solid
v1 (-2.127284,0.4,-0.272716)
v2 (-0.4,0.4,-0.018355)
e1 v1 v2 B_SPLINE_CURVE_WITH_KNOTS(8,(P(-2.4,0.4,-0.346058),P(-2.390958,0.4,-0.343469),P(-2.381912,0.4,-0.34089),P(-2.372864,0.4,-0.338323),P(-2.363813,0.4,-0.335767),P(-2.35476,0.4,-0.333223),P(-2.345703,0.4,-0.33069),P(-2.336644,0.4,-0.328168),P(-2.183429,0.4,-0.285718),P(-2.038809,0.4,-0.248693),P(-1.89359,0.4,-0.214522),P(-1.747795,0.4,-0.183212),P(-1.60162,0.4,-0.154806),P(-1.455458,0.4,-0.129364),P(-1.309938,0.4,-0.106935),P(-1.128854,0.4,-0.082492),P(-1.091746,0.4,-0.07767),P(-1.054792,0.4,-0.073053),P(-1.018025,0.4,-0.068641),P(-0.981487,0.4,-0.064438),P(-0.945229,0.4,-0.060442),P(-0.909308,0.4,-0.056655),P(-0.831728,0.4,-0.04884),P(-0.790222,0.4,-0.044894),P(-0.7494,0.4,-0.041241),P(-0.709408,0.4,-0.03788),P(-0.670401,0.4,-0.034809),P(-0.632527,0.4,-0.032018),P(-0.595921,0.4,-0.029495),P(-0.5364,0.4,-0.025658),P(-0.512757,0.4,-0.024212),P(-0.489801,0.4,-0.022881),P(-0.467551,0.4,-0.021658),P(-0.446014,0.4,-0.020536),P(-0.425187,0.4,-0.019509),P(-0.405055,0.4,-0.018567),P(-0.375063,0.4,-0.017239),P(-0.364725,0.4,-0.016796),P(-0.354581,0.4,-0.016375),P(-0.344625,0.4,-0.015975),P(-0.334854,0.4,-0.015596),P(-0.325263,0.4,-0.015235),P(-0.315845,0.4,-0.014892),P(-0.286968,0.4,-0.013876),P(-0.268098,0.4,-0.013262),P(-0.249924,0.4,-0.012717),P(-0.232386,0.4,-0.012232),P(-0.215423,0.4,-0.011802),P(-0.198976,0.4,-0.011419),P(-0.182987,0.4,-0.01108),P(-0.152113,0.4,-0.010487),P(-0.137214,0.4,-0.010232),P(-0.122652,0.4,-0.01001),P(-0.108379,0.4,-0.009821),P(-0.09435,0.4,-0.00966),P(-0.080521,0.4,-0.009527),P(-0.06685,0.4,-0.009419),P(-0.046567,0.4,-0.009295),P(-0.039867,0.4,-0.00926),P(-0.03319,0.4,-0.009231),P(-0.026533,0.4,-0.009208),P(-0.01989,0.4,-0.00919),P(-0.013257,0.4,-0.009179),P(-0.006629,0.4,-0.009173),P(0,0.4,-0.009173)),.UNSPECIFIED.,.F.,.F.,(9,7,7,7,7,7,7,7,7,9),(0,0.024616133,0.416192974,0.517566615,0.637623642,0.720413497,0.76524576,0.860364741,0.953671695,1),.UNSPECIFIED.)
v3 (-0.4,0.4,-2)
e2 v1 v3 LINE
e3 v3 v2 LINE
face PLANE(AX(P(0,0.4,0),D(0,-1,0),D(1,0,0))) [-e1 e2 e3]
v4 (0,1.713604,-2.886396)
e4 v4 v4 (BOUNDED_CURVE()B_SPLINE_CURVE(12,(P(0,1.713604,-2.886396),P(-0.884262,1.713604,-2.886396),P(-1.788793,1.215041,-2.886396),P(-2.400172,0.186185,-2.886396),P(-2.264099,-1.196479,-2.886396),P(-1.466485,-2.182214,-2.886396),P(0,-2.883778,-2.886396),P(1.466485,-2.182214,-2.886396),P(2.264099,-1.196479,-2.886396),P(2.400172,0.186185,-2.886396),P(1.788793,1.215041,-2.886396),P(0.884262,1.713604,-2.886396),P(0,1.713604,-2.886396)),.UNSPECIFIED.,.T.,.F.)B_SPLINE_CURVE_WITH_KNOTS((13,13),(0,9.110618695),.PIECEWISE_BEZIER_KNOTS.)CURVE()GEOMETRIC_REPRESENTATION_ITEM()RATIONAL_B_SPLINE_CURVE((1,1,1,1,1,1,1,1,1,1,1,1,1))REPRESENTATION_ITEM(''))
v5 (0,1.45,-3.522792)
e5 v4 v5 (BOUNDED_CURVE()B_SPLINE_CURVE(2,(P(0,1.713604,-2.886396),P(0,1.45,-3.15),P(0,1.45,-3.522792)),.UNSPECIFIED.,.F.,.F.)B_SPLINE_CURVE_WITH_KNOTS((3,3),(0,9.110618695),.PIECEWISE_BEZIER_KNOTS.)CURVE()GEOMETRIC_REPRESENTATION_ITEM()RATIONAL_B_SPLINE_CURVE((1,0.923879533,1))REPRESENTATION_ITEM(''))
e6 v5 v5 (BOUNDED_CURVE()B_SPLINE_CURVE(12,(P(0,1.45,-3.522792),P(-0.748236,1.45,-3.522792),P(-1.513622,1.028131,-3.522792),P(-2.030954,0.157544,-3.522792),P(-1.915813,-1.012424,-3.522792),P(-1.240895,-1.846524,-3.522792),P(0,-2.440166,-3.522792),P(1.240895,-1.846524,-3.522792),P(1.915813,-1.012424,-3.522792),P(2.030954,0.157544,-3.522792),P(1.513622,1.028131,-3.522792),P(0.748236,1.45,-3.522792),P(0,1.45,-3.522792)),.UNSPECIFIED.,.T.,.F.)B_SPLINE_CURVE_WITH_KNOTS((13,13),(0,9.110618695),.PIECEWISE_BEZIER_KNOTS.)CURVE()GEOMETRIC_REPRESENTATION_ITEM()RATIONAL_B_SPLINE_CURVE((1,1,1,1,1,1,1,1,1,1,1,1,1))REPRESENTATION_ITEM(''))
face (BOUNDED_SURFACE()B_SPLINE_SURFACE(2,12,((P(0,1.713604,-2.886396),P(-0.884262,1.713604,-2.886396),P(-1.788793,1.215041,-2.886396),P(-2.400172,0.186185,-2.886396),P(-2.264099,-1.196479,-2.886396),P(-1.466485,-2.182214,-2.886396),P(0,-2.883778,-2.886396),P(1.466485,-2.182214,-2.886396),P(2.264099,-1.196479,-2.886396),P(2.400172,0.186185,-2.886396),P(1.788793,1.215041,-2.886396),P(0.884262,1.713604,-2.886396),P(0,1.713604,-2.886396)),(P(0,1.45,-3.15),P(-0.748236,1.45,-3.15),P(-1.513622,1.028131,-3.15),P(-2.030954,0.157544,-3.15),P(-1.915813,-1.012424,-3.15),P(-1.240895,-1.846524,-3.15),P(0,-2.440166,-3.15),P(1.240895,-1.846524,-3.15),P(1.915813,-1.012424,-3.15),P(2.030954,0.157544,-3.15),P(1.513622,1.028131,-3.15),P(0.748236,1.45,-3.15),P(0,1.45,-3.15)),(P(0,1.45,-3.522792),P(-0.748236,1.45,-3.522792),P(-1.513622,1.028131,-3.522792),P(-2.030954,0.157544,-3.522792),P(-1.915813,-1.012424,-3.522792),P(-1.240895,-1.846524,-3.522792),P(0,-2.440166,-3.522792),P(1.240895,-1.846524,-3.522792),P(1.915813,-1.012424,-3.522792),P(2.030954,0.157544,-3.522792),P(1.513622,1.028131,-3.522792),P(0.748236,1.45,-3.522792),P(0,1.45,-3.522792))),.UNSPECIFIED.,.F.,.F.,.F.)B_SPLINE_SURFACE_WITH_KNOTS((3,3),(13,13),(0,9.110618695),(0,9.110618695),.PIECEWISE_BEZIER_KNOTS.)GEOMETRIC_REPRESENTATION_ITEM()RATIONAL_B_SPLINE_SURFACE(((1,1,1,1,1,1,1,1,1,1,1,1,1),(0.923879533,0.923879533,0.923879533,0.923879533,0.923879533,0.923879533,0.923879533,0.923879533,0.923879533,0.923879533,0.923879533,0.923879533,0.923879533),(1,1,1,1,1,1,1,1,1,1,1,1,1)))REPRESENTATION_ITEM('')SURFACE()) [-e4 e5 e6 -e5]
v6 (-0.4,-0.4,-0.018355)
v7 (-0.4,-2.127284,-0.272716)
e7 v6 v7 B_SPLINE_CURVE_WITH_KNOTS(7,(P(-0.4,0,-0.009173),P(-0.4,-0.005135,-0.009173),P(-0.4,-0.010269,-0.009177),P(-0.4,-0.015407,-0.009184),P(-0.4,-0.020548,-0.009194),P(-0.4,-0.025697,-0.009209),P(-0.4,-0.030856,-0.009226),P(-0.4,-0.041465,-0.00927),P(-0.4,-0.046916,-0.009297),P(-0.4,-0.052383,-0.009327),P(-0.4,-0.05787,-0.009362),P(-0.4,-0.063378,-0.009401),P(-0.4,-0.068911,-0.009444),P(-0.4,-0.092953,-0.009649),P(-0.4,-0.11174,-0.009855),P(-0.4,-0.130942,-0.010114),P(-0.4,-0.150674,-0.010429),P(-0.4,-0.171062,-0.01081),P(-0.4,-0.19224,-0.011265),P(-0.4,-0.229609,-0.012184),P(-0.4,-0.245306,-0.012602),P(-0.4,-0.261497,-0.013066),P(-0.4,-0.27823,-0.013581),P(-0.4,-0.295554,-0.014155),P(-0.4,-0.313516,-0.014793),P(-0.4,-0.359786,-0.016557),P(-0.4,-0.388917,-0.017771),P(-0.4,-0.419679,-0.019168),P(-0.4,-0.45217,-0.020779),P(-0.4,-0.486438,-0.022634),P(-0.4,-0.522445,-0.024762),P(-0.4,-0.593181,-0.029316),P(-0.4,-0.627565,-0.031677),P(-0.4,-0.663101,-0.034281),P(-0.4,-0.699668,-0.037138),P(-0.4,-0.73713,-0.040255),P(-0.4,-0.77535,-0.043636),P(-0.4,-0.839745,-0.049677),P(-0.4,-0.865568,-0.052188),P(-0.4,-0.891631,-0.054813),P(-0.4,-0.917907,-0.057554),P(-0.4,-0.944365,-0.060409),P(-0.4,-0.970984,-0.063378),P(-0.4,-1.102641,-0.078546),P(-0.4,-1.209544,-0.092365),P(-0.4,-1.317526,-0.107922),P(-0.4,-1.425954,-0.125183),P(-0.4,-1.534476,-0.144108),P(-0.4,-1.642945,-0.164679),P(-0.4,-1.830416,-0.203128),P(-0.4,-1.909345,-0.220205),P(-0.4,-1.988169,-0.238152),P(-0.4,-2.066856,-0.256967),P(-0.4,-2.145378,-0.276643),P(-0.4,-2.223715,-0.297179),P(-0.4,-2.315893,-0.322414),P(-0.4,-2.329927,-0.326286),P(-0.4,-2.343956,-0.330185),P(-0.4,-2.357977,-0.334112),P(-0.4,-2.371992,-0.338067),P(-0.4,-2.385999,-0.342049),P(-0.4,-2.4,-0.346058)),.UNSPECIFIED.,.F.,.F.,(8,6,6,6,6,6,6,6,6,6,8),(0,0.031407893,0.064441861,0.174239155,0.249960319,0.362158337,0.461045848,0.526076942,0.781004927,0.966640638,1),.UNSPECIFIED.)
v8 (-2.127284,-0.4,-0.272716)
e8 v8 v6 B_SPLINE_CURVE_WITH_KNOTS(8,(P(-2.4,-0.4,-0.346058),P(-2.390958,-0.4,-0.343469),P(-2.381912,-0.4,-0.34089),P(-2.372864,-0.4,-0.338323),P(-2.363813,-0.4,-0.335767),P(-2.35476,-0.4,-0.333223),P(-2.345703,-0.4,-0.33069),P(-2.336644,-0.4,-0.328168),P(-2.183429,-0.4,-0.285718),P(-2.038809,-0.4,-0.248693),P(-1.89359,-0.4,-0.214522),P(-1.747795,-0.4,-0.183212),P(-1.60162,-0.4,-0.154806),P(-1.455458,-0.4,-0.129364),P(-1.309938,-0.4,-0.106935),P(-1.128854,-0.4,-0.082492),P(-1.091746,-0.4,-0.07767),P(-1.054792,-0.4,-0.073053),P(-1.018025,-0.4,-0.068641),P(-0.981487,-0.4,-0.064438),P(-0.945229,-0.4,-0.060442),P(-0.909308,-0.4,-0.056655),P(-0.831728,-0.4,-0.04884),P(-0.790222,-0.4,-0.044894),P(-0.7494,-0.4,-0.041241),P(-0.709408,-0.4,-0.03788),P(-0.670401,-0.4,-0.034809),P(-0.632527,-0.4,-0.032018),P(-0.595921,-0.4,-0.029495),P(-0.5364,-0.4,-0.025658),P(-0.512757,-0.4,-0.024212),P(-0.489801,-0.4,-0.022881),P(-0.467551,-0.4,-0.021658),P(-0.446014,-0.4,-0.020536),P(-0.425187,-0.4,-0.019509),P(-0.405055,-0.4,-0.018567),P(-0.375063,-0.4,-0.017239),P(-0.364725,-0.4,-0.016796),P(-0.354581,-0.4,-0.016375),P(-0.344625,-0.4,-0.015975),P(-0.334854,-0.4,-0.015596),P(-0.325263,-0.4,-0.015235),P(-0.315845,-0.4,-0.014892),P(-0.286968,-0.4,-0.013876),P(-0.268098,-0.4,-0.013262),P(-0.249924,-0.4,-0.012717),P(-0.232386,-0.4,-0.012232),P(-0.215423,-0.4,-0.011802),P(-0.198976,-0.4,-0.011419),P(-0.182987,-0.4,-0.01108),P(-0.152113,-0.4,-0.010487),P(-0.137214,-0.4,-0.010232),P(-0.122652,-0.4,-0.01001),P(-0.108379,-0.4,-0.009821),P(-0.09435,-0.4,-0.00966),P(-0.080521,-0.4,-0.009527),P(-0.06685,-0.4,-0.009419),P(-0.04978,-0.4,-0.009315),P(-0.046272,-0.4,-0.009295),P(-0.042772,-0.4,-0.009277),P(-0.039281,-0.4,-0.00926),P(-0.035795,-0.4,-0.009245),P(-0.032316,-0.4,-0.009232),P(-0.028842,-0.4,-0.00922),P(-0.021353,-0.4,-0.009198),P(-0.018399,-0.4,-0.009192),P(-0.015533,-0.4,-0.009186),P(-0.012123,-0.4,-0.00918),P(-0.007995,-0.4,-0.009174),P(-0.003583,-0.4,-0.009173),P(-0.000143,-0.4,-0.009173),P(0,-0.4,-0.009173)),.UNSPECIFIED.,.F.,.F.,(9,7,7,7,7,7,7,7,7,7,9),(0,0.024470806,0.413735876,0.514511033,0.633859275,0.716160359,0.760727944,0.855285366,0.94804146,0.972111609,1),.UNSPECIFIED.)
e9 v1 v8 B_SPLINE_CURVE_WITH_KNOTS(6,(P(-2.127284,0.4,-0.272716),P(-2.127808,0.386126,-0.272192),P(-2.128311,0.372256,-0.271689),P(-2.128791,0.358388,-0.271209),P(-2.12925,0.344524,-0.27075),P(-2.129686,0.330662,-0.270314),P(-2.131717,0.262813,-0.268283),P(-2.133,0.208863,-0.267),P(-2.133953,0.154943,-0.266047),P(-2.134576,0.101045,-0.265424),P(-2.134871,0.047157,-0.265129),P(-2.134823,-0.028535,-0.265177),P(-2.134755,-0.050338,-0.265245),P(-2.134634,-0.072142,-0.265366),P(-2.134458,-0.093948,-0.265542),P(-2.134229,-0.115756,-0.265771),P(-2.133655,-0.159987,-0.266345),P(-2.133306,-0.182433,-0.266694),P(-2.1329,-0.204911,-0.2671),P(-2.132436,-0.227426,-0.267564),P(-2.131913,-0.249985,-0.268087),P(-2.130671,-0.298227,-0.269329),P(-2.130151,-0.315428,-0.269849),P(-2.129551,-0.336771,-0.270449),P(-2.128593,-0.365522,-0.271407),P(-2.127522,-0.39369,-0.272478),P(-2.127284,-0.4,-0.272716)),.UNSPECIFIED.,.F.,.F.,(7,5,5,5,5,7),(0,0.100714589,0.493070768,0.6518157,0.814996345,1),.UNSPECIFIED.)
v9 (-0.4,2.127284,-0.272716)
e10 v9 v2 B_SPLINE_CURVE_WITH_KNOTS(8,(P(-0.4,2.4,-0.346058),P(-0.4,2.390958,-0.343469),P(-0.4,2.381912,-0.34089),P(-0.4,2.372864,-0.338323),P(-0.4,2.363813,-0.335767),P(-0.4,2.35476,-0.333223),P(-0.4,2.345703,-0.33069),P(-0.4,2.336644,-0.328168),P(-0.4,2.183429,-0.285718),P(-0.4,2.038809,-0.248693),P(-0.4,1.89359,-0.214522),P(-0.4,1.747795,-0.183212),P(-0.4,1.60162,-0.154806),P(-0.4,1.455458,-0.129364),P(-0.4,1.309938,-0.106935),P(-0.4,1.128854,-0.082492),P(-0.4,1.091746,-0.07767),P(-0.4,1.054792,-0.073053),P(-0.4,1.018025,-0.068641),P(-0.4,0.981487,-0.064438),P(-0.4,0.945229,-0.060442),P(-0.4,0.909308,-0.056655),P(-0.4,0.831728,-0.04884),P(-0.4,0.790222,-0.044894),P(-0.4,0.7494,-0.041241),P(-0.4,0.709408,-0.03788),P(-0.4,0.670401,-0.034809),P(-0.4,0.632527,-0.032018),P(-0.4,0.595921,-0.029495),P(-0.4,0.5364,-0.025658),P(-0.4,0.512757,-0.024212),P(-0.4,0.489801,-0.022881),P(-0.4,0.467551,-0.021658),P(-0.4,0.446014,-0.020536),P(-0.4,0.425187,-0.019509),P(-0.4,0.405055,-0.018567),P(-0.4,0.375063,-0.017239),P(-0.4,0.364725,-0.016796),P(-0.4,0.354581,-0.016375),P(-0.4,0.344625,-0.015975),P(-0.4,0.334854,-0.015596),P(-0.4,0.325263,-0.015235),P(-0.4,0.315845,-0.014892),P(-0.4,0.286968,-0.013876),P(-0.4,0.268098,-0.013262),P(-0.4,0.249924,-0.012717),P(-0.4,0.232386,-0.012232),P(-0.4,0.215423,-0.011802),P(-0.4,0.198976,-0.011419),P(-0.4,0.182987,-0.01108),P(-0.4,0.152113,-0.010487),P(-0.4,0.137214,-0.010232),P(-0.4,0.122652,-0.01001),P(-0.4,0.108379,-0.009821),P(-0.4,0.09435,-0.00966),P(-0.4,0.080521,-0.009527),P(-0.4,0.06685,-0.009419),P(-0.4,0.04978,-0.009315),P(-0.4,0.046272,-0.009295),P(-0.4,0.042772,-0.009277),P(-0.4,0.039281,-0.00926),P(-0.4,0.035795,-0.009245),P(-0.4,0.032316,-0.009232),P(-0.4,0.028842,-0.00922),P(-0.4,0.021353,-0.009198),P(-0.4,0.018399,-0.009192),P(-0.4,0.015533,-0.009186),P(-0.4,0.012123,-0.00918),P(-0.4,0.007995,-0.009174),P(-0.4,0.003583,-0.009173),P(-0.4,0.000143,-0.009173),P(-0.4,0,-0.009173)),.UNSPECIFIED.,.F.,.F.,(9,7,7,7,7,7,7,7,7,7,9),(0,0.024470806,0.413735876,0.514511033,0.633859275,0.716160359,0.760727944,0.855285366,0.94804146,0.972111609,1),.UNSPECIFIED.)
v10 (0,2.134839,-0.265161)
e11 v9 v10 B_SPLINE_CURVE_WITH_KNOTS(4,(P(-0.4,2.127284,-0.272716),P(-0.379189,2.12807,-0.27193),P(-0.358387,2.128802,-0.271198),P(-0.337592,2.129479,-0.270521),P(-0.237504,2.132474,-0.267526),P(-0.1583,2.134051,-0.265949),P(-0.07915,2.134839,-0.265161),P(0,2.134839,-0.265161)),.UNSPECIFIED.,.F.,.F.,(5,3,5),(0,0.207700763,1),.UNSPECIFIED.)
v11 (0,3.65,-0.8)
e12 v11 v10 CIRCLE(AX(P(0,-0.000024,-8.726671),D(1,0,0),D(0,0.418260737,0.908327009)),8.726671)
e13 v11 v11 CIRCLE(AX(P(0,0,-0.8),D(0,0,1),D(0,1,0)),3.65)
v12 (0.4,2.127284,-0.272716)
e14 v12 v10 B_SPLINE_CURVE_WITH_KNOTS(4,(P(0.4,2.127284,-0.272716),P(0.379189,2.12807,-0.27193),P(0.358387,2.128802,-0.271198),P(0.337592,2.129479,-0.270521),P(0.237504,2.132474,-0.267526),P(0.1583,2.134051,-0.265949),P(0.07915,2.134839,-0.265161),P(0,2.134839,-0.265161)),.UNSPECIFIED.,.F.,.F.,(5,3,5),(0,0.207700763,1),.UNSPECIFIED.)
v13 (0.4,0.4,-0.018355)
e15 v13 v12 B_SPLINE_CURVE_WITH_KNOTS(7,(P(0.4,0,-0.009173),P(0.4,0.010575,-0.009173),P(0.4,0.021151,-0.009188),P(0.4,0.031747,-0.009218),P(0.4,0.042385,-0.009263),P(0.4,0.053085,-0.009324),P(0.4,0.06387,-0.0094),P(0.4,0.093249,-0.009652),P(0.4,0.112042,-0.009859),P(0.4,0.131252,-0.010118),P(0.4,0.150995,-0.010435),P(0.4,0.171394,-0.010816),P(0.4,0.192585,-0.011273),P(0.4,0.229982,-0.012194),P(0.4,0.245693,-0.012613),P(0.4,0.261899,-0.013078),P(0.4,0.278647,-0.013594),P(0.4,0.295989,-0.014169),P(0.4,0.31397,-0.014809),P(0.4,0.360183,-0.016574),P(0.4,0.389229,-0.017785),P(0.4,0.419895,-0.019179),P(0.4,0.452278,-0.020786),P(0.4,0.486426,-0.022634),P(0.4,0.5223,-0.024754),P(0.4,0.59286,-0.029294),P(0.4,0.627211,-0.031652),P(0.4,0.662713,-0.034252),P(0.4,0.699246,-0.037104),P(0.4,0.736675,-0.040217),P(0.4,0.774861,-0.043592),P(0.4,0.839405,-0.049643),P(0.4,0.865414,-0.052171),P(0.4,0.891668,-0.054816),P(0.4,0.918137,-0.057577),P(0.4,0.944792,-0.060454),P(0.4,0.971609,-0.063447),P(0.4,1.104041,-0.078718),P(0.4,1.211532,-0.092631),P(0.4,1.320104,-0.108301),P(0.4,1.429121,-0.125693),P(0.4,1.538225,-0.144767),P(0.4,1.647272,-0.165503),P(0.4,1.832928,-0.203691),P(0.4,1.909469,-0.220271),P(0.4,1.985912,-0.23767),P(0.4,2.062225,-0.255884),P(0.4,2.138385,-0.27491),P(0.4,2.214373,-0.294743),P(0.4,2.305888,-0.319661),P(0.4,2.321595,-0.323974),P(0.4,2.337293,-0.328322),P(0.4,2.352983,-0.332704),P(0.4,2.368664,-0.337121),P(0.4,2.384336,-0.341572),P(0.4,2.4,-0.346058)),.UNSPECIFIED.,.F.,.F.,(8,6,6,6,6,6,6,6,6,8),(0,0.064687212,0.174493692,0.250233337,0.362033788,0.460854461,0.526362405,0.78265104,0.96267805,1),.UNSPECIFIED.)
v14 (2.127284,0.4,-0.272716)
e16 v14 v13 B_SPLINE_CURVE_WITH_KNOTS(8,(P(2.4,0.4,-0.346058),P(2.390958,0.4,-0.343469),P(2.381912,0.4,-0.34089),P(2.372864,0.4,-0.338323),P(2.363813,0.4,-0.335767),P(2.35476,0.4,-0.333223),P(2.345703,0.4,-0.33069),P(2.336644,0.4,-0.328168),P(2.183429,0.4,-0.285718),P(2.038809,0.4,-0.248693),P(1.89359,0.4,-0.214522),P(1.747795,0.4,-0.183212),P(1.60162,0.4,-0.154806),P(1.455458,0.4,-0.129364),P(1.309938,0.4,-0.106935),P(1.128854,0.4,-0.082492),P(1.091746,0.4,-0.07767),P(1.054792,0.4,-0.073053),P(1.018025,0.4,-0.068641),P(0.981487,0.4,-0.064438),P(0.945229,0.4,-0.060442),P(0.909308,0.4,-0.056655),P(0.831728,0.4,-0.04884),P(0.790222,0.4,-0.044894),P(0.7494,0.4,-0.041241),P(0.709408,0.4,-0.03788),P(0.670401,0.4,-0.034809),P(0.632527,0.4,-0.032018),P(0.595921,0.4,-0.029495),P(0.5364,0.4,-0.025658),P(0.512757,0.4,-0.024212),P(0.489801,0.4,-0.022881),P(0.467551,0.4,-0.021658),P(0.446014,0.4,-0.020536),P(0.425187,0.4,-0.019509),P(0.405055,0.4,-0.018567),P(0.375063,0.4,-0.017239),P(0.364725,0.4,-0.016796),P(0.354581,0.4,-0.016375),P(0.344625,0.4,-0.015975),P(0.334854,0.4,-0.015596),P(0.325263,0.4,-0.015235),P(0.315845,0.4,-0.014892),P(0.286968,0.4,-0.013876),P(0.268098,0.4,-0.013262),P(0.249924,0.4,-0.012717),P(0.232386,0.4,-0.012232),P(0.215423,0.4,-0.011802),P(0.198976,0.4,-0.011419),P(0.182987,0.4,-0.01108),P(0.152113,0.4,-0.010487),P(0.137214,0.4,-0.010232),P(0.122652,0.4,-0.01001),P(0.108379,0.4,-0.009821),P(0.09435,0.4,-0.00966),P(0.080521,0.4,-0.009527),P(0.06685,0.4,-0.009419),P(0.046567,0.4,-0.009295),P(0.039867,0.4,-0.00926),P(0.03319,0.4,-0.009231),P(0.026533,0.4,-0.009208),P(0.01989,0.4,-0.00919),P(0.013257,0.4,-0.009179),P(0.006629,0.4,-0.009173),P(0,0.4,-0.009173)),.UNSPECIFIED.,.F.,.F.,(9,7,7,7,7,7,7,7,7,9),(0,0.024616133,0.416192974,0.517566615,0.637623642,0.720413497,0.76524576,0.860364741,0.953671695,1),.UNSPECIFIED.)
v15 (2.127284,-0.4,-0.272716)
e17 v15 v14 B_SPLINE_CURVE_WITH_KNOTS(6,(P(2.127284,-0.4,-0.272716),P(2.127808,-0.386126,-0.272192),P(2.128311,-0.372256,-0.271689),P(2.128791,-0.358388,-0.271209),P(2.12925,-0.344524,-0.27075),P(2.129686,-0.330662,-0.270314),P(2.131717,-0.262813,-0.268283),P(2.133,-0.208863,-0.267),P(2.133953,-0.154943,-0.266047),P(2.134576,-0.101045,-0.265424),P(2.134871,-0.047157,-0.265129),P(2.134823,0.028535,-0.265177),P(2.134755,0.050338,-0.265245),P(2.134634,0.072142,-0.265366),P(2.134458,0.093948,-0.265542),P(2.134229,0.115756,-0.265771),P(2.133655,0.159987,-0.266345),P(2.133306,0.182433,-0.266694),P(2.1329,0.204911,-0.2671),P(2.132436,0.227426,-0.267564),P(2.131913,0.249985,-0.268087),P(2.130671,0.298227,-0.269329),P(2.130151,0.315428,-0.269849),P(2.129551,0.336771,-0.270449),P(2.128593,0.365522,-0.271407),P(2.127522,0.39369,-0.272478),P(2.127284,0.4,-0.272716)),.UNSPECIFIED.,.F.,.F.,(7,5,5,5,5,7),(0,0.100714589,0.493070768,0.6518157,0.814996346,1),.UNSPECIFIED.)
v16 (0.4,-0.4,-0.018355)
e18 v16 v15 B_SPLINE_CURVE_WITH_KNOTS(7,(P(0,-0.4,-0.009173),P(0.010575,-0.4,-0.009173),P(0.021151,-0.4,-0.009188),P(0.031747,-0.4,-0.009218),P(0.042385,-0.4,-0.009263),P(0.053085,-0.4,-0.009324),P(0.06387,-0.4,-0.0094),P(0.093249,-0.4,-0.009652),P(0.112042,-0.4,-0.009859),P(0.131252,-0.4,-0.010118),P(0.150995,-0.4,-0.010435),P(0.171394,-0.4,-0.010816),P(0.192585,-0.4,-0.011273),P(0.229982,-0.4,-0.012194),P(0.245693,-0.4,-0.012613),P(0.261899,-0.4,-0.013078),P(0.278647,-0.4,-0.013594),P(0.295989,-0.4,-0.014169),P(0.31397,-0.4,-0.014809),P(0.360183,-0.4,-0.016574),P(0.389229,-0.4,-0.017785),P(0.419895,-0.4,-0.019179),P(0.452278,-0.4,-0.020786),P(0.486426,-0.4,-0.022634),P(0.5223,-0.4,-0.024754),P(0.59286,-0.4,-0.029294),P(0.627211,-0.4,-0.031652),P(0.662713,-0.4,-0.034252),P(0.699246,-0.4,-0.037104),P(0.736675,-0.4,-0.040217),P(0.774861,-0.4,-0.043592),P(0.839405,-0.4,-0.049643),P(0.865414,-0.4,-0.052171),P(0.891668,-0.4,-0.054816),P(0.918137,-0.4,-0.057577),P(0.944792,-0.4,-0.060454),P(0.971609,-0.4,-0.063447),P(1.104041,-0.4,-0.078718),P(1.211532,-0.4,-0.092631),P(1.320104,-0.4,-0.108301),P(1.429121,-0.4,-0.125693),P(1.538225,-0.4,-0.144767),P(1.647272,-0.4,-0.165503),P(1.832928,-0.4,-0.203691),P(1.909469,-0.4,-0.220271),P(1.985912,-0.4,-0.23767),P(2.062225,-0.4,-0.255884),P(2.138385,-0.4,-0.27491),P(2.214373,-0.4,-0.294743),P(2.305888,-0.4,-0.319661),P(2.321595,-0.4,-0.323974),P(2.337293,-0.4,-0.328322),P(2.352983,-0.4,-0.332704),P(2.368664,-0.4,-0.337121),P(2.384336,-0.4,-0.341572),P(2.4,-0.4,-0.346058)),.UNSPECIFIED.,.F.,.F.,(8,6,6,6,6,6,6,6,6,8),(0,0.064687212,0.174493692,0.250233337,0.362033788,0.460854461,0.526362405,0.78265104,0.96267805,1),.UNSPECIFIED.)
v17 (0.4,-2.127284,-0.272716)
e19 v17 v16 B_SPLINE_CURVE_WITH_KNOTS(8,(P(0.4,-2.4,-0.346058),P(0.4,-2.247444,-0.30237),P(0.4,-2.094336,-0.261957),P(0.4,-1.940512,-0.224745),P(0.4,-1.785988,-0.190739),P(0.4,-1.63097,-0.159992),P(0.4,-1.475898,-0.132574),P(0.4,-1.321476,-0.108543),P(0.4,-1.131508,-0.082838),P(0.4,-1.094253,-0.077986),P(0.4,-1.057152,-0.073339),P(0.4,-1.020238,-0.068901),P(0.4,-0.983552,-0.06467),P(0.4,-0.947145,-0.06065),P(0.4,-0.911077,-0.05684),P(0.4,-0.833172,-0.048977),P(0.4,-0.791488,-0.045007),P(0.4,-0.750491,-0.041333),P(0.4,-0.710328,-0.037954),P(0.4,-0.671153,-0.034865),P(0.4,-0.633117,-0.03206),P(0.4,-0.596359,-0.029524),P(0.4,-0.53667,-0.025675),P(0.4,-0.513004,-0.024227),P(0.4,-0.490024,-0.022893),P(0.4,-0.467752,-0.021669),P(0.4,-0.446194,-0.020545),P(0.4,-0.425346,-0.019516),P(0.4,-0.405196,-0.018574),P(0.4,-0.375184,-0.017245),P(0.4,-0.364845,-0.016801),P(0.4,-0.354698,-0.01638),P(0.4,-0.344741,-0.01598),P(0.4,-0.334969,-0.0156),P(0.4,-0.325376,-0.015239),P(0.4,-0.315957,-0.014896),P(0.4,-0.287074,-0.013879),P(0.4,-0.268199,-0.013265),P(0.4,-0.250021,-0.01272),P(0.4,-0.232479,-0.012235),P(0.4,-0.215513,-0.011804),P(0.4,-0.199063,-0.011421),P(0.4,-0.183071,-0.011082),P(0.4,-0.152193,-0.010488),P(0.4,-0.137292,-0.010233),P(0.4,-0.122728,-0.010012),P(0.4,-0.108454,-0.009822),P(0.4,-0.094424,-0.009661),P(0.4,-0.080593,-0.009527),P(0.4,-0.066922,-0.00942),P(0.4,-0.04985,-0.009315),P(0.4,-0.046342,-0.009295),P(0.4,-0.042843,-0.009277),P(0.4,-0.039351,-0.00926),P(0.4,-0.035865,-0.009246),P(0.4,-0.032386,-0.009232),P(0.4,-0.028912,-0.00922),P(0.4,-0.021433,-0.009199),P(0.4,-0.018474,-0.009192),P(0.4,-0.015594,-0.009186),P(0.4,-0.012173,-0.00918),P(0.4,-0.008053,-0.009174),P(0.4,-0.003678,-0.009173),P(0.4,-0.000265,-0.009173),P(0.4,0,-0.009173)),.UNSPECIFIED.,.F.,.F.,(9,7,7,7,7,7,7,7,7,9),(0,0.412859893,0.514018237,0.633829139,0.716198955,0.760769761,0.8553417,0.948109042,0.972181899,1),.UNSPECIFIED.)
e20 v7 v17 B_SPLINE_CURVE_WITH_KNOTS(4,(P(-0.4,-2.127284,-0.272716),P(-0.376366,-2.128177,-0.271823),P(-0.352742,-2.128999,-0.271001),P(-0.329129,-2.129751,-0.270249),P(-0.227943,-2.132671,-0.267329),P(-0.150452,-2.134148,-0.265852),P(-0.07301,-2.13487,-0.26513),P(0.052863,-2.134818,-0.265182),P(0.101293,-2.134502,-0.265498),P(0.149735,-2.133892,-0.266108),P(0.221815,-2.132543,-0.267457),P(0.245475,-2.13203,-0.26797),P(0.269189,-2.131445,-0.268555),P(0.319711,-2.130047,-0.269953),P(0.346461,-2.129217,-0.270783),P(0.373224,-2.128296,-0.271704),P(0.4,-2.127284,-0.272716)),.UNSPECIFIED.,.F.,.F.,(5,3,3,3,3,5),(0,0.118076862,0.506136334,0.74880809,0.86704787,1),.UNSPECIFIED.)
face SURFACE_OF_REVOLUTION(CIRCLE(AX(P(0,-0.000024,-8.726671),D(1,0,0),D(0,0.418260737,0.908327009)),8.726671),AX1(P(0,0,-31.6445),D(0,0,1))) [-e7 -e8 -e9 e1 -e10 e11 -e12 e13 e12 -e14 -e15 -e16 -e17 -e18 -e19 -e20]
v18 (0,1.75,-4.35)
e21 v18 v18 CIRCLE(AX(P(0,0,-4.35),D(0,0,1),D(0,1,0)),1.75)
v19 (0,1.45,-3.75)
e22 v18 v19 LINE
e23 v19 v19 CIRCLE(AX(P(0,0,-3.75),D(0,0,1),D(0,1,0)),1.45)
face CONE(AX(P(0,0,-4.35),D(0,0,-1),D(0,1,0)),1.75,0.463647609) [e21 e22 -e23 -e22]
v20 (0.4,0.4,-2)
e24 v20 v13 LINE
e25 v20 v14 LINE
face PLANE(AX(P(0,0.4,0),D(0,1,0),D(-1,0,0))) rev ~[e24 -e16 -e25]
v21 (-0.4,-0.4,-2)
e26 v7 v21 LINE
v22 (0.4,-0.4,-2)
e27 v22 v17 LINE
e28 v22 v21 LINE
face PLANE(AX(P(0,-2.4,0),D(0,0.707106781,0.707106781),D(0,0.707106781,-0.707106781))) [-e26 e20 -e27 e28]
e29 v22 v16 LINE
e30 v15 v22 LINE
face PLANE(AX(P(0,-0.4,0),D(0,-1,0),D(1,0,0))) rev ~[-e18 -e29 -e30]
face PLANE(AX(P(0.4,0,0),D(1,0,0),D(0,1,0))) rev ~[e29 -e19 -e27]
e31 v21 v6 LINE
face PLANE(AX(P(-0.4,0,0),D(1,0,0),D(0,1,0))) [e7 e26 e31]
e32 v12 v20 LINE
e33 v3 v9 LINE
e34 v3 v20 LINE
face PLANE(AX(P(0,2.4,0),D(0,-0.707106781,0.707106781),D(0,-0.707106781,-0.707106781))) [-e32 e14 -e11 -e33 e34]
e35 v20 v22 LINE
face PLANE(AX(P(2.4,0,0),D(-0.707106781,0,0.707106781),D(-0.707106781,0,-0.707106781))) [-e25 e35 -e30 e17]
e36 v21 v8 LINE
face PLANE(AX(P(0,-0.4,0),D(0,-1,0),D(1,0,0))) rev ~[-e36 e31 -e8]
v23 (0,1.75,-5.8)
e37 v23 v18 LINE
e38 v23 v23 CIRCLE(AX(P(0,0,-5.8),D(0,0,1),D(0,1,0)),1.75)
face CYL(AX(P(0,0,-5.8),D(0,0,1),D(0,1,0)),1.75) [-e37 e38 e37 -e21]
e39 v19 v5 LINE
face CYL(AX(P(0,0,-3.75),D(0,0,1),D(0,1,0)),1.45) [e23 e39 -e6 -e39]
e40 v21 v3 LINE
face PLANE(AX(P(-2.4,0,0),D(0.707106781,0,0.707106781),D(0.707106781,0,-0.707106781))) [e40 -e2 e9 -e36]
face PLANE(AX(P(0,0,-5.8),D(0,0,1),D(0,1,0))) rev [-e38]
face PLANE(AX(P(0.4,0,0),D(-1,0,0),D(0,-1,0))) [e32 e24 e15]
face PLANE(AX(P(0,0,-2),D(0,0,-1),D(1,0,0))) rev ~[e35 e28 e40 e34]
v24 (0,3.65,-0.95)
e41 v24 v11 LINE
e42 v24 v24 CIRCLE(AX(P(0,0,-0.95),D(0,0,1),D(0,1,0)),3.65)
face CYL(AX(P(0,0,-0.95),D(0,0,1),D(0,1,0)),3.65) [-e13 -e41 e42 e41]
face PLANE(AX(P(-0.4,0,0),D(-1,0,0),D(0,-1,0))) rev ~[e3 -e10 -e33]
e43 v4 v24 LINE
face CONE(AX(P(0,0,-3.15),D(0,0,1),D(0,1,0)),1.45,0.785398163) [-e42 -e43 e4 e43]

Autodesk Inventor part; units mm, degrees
ref_plane "WorkPlane2" through (0, 0, 0) normal (0, 0, 1) x (1, 0, 0)
sketch "Sketch1" plane through (0, 0, 0) normal (1, 0, 0) x (0, 1, 0)
  point P0 (0, 0)
ref_plane "Work Plane2" through (0, 0, -3.15) normal (0, 0, 1) x (1, 0, 0)
ref_plane "WorkPlane3" through (0, 0, 7) normal (0, 0, 1) x (1, 0, 0)
sketch "Sketch2" plane through (0, 0, 0) normal (0, 1, 0) x (-1, 0, 0)
  point P0 (0, 0)
sketch "Sketch3" plane through (0, 0, 0) normal (1, 0, 0) x (0, 1, 0)
  line L0 (1.75, -4.35) -> (1.45, -3.75)
  line L1 (1.75, -5.8) -> (1.75, -4.35)
  line L2 (0, -5.8) -> (1.75, -5.8)
  line L3 (0, 0) -> (0, -5.8)
  arc A0 (3.65, -0.8) -> (0, 0) centre (0, -8.7266) ccw
  line L4 (3.65, -0.95) -> (3.65, -0.8)
  line L5 (1.45, -3.15) -> (3.65, -0.95)
  line L6 (1.45, -3.75) -> (1.45, -3.15)
  line L7 (0, -31.6445) -> (0, 31.6445) construction
  line L8 (0, -31.6445) -> (0, 31.6445)
  line L9 (0, -44.3023) -> (0, 44.3023) projected
  dimension "d2" = 1.75
  dimension "d4" = 1.45
  dimension "d6" = 0.6
  dimension "d8" = 2.35
  dimension "d10" = 135
  dimension "d12" = 3.65
  dimension "d14" = 0
  dimension "d16" = 0.8
  dimension "d18" = 5
  dimension "d22" = 1.45
revolve "Revolution1" add sketch "Sketch3" angle 360 about axis through (0, 0, -31.6445) along (0, 0, 1)
fillet "Fillet1" radius 0.9 1 edges at (0, -1.45, -3.15)
sketch "Sketch4" plane through (0, 0, 0) normal (0, 1, 0) x (-1, 0, 0)
  line L0 (0, 0) -> (-2.4, 0)
  line L1 (0, -2) -> (0, 0)
  line L2 (-2.4, 0) -> (-0.4, -2)
  line L3 (0, -10.4719) -> (0, 1.7453) projected
  arc A0 (3.65, -0.8) -> (-3.65, -0.8) centre (0, -8.7266) ccw projected
  line L4 (0, -2) -> (-0.4, -2)
  point P0 (0, -2.4)
  dimension "d30" = 45
  dimension "d33" = 4.8
  dimension "d34" = 0.4
  dimension "d35" = 90
extrude "Extrusion1" cut sketch "Sketch4" along normal mid plane 0.8
pattern_circular "PolarArray1" count 4 over 360 about axis through (0, 0, -10) along (0, 0, 1) of "Extrusion1"
thread "Thread1" size "M3.5x0.6" class "6g" standard "ISO Metric profile" full length
ref_plane "MSC_PF1" through (0, 0, 0) normal (1, 0, 0) x (0, 1, 0)
ref_plane "MSC_PT1" through (0, 3.65, -0.95) normal (0, 0, -1) x (-1, 0, 0)
equation "\"d2\" = 0.5 * NND"
equation "\"d4\" = 0.5 * msp_mdtds"
equation "\"d6\" = msp_x"
equation "\"d8\" = ParK"
equation "\"d12\" = 0.5 * Dk"
equation "\"d16\" = ParF"
equation "\"d18\" = NLG"
equation "\"d22\" = b"
equation "\"d24\" = r"
equation "\"d33\" = M"
equation "\"d34\" = 0.0833333 * M"
equation "\"d31\" = 0.166667 * M"
equation "\"d39\" = b"
equation "\"PTC\" = 0.6"
equation "\"msp_x\" = PTC"
equation "\"NLG\" = 5"
equation "\"NND\" = 3.5"
equation "\"ParK\" = 2.35"
equation "\"r\" = 0.9"
equation "\"msp_mdtds\" = NND - PTC"
equation "\"b\" = 1.45"
equation "\"Dk\" = 7.3"
equation "\"ParF\" = 0.8"
equation "\"M\" = 4.8"
equation "\"ParA\" = 1.2"
equation "\"THREADDIA\" = NND"
equation "\"TEMPLATE\" = 1.2345"
properties part number "ISO 7047 - M3.5x5 - 4.8 - H" material "Steel"
